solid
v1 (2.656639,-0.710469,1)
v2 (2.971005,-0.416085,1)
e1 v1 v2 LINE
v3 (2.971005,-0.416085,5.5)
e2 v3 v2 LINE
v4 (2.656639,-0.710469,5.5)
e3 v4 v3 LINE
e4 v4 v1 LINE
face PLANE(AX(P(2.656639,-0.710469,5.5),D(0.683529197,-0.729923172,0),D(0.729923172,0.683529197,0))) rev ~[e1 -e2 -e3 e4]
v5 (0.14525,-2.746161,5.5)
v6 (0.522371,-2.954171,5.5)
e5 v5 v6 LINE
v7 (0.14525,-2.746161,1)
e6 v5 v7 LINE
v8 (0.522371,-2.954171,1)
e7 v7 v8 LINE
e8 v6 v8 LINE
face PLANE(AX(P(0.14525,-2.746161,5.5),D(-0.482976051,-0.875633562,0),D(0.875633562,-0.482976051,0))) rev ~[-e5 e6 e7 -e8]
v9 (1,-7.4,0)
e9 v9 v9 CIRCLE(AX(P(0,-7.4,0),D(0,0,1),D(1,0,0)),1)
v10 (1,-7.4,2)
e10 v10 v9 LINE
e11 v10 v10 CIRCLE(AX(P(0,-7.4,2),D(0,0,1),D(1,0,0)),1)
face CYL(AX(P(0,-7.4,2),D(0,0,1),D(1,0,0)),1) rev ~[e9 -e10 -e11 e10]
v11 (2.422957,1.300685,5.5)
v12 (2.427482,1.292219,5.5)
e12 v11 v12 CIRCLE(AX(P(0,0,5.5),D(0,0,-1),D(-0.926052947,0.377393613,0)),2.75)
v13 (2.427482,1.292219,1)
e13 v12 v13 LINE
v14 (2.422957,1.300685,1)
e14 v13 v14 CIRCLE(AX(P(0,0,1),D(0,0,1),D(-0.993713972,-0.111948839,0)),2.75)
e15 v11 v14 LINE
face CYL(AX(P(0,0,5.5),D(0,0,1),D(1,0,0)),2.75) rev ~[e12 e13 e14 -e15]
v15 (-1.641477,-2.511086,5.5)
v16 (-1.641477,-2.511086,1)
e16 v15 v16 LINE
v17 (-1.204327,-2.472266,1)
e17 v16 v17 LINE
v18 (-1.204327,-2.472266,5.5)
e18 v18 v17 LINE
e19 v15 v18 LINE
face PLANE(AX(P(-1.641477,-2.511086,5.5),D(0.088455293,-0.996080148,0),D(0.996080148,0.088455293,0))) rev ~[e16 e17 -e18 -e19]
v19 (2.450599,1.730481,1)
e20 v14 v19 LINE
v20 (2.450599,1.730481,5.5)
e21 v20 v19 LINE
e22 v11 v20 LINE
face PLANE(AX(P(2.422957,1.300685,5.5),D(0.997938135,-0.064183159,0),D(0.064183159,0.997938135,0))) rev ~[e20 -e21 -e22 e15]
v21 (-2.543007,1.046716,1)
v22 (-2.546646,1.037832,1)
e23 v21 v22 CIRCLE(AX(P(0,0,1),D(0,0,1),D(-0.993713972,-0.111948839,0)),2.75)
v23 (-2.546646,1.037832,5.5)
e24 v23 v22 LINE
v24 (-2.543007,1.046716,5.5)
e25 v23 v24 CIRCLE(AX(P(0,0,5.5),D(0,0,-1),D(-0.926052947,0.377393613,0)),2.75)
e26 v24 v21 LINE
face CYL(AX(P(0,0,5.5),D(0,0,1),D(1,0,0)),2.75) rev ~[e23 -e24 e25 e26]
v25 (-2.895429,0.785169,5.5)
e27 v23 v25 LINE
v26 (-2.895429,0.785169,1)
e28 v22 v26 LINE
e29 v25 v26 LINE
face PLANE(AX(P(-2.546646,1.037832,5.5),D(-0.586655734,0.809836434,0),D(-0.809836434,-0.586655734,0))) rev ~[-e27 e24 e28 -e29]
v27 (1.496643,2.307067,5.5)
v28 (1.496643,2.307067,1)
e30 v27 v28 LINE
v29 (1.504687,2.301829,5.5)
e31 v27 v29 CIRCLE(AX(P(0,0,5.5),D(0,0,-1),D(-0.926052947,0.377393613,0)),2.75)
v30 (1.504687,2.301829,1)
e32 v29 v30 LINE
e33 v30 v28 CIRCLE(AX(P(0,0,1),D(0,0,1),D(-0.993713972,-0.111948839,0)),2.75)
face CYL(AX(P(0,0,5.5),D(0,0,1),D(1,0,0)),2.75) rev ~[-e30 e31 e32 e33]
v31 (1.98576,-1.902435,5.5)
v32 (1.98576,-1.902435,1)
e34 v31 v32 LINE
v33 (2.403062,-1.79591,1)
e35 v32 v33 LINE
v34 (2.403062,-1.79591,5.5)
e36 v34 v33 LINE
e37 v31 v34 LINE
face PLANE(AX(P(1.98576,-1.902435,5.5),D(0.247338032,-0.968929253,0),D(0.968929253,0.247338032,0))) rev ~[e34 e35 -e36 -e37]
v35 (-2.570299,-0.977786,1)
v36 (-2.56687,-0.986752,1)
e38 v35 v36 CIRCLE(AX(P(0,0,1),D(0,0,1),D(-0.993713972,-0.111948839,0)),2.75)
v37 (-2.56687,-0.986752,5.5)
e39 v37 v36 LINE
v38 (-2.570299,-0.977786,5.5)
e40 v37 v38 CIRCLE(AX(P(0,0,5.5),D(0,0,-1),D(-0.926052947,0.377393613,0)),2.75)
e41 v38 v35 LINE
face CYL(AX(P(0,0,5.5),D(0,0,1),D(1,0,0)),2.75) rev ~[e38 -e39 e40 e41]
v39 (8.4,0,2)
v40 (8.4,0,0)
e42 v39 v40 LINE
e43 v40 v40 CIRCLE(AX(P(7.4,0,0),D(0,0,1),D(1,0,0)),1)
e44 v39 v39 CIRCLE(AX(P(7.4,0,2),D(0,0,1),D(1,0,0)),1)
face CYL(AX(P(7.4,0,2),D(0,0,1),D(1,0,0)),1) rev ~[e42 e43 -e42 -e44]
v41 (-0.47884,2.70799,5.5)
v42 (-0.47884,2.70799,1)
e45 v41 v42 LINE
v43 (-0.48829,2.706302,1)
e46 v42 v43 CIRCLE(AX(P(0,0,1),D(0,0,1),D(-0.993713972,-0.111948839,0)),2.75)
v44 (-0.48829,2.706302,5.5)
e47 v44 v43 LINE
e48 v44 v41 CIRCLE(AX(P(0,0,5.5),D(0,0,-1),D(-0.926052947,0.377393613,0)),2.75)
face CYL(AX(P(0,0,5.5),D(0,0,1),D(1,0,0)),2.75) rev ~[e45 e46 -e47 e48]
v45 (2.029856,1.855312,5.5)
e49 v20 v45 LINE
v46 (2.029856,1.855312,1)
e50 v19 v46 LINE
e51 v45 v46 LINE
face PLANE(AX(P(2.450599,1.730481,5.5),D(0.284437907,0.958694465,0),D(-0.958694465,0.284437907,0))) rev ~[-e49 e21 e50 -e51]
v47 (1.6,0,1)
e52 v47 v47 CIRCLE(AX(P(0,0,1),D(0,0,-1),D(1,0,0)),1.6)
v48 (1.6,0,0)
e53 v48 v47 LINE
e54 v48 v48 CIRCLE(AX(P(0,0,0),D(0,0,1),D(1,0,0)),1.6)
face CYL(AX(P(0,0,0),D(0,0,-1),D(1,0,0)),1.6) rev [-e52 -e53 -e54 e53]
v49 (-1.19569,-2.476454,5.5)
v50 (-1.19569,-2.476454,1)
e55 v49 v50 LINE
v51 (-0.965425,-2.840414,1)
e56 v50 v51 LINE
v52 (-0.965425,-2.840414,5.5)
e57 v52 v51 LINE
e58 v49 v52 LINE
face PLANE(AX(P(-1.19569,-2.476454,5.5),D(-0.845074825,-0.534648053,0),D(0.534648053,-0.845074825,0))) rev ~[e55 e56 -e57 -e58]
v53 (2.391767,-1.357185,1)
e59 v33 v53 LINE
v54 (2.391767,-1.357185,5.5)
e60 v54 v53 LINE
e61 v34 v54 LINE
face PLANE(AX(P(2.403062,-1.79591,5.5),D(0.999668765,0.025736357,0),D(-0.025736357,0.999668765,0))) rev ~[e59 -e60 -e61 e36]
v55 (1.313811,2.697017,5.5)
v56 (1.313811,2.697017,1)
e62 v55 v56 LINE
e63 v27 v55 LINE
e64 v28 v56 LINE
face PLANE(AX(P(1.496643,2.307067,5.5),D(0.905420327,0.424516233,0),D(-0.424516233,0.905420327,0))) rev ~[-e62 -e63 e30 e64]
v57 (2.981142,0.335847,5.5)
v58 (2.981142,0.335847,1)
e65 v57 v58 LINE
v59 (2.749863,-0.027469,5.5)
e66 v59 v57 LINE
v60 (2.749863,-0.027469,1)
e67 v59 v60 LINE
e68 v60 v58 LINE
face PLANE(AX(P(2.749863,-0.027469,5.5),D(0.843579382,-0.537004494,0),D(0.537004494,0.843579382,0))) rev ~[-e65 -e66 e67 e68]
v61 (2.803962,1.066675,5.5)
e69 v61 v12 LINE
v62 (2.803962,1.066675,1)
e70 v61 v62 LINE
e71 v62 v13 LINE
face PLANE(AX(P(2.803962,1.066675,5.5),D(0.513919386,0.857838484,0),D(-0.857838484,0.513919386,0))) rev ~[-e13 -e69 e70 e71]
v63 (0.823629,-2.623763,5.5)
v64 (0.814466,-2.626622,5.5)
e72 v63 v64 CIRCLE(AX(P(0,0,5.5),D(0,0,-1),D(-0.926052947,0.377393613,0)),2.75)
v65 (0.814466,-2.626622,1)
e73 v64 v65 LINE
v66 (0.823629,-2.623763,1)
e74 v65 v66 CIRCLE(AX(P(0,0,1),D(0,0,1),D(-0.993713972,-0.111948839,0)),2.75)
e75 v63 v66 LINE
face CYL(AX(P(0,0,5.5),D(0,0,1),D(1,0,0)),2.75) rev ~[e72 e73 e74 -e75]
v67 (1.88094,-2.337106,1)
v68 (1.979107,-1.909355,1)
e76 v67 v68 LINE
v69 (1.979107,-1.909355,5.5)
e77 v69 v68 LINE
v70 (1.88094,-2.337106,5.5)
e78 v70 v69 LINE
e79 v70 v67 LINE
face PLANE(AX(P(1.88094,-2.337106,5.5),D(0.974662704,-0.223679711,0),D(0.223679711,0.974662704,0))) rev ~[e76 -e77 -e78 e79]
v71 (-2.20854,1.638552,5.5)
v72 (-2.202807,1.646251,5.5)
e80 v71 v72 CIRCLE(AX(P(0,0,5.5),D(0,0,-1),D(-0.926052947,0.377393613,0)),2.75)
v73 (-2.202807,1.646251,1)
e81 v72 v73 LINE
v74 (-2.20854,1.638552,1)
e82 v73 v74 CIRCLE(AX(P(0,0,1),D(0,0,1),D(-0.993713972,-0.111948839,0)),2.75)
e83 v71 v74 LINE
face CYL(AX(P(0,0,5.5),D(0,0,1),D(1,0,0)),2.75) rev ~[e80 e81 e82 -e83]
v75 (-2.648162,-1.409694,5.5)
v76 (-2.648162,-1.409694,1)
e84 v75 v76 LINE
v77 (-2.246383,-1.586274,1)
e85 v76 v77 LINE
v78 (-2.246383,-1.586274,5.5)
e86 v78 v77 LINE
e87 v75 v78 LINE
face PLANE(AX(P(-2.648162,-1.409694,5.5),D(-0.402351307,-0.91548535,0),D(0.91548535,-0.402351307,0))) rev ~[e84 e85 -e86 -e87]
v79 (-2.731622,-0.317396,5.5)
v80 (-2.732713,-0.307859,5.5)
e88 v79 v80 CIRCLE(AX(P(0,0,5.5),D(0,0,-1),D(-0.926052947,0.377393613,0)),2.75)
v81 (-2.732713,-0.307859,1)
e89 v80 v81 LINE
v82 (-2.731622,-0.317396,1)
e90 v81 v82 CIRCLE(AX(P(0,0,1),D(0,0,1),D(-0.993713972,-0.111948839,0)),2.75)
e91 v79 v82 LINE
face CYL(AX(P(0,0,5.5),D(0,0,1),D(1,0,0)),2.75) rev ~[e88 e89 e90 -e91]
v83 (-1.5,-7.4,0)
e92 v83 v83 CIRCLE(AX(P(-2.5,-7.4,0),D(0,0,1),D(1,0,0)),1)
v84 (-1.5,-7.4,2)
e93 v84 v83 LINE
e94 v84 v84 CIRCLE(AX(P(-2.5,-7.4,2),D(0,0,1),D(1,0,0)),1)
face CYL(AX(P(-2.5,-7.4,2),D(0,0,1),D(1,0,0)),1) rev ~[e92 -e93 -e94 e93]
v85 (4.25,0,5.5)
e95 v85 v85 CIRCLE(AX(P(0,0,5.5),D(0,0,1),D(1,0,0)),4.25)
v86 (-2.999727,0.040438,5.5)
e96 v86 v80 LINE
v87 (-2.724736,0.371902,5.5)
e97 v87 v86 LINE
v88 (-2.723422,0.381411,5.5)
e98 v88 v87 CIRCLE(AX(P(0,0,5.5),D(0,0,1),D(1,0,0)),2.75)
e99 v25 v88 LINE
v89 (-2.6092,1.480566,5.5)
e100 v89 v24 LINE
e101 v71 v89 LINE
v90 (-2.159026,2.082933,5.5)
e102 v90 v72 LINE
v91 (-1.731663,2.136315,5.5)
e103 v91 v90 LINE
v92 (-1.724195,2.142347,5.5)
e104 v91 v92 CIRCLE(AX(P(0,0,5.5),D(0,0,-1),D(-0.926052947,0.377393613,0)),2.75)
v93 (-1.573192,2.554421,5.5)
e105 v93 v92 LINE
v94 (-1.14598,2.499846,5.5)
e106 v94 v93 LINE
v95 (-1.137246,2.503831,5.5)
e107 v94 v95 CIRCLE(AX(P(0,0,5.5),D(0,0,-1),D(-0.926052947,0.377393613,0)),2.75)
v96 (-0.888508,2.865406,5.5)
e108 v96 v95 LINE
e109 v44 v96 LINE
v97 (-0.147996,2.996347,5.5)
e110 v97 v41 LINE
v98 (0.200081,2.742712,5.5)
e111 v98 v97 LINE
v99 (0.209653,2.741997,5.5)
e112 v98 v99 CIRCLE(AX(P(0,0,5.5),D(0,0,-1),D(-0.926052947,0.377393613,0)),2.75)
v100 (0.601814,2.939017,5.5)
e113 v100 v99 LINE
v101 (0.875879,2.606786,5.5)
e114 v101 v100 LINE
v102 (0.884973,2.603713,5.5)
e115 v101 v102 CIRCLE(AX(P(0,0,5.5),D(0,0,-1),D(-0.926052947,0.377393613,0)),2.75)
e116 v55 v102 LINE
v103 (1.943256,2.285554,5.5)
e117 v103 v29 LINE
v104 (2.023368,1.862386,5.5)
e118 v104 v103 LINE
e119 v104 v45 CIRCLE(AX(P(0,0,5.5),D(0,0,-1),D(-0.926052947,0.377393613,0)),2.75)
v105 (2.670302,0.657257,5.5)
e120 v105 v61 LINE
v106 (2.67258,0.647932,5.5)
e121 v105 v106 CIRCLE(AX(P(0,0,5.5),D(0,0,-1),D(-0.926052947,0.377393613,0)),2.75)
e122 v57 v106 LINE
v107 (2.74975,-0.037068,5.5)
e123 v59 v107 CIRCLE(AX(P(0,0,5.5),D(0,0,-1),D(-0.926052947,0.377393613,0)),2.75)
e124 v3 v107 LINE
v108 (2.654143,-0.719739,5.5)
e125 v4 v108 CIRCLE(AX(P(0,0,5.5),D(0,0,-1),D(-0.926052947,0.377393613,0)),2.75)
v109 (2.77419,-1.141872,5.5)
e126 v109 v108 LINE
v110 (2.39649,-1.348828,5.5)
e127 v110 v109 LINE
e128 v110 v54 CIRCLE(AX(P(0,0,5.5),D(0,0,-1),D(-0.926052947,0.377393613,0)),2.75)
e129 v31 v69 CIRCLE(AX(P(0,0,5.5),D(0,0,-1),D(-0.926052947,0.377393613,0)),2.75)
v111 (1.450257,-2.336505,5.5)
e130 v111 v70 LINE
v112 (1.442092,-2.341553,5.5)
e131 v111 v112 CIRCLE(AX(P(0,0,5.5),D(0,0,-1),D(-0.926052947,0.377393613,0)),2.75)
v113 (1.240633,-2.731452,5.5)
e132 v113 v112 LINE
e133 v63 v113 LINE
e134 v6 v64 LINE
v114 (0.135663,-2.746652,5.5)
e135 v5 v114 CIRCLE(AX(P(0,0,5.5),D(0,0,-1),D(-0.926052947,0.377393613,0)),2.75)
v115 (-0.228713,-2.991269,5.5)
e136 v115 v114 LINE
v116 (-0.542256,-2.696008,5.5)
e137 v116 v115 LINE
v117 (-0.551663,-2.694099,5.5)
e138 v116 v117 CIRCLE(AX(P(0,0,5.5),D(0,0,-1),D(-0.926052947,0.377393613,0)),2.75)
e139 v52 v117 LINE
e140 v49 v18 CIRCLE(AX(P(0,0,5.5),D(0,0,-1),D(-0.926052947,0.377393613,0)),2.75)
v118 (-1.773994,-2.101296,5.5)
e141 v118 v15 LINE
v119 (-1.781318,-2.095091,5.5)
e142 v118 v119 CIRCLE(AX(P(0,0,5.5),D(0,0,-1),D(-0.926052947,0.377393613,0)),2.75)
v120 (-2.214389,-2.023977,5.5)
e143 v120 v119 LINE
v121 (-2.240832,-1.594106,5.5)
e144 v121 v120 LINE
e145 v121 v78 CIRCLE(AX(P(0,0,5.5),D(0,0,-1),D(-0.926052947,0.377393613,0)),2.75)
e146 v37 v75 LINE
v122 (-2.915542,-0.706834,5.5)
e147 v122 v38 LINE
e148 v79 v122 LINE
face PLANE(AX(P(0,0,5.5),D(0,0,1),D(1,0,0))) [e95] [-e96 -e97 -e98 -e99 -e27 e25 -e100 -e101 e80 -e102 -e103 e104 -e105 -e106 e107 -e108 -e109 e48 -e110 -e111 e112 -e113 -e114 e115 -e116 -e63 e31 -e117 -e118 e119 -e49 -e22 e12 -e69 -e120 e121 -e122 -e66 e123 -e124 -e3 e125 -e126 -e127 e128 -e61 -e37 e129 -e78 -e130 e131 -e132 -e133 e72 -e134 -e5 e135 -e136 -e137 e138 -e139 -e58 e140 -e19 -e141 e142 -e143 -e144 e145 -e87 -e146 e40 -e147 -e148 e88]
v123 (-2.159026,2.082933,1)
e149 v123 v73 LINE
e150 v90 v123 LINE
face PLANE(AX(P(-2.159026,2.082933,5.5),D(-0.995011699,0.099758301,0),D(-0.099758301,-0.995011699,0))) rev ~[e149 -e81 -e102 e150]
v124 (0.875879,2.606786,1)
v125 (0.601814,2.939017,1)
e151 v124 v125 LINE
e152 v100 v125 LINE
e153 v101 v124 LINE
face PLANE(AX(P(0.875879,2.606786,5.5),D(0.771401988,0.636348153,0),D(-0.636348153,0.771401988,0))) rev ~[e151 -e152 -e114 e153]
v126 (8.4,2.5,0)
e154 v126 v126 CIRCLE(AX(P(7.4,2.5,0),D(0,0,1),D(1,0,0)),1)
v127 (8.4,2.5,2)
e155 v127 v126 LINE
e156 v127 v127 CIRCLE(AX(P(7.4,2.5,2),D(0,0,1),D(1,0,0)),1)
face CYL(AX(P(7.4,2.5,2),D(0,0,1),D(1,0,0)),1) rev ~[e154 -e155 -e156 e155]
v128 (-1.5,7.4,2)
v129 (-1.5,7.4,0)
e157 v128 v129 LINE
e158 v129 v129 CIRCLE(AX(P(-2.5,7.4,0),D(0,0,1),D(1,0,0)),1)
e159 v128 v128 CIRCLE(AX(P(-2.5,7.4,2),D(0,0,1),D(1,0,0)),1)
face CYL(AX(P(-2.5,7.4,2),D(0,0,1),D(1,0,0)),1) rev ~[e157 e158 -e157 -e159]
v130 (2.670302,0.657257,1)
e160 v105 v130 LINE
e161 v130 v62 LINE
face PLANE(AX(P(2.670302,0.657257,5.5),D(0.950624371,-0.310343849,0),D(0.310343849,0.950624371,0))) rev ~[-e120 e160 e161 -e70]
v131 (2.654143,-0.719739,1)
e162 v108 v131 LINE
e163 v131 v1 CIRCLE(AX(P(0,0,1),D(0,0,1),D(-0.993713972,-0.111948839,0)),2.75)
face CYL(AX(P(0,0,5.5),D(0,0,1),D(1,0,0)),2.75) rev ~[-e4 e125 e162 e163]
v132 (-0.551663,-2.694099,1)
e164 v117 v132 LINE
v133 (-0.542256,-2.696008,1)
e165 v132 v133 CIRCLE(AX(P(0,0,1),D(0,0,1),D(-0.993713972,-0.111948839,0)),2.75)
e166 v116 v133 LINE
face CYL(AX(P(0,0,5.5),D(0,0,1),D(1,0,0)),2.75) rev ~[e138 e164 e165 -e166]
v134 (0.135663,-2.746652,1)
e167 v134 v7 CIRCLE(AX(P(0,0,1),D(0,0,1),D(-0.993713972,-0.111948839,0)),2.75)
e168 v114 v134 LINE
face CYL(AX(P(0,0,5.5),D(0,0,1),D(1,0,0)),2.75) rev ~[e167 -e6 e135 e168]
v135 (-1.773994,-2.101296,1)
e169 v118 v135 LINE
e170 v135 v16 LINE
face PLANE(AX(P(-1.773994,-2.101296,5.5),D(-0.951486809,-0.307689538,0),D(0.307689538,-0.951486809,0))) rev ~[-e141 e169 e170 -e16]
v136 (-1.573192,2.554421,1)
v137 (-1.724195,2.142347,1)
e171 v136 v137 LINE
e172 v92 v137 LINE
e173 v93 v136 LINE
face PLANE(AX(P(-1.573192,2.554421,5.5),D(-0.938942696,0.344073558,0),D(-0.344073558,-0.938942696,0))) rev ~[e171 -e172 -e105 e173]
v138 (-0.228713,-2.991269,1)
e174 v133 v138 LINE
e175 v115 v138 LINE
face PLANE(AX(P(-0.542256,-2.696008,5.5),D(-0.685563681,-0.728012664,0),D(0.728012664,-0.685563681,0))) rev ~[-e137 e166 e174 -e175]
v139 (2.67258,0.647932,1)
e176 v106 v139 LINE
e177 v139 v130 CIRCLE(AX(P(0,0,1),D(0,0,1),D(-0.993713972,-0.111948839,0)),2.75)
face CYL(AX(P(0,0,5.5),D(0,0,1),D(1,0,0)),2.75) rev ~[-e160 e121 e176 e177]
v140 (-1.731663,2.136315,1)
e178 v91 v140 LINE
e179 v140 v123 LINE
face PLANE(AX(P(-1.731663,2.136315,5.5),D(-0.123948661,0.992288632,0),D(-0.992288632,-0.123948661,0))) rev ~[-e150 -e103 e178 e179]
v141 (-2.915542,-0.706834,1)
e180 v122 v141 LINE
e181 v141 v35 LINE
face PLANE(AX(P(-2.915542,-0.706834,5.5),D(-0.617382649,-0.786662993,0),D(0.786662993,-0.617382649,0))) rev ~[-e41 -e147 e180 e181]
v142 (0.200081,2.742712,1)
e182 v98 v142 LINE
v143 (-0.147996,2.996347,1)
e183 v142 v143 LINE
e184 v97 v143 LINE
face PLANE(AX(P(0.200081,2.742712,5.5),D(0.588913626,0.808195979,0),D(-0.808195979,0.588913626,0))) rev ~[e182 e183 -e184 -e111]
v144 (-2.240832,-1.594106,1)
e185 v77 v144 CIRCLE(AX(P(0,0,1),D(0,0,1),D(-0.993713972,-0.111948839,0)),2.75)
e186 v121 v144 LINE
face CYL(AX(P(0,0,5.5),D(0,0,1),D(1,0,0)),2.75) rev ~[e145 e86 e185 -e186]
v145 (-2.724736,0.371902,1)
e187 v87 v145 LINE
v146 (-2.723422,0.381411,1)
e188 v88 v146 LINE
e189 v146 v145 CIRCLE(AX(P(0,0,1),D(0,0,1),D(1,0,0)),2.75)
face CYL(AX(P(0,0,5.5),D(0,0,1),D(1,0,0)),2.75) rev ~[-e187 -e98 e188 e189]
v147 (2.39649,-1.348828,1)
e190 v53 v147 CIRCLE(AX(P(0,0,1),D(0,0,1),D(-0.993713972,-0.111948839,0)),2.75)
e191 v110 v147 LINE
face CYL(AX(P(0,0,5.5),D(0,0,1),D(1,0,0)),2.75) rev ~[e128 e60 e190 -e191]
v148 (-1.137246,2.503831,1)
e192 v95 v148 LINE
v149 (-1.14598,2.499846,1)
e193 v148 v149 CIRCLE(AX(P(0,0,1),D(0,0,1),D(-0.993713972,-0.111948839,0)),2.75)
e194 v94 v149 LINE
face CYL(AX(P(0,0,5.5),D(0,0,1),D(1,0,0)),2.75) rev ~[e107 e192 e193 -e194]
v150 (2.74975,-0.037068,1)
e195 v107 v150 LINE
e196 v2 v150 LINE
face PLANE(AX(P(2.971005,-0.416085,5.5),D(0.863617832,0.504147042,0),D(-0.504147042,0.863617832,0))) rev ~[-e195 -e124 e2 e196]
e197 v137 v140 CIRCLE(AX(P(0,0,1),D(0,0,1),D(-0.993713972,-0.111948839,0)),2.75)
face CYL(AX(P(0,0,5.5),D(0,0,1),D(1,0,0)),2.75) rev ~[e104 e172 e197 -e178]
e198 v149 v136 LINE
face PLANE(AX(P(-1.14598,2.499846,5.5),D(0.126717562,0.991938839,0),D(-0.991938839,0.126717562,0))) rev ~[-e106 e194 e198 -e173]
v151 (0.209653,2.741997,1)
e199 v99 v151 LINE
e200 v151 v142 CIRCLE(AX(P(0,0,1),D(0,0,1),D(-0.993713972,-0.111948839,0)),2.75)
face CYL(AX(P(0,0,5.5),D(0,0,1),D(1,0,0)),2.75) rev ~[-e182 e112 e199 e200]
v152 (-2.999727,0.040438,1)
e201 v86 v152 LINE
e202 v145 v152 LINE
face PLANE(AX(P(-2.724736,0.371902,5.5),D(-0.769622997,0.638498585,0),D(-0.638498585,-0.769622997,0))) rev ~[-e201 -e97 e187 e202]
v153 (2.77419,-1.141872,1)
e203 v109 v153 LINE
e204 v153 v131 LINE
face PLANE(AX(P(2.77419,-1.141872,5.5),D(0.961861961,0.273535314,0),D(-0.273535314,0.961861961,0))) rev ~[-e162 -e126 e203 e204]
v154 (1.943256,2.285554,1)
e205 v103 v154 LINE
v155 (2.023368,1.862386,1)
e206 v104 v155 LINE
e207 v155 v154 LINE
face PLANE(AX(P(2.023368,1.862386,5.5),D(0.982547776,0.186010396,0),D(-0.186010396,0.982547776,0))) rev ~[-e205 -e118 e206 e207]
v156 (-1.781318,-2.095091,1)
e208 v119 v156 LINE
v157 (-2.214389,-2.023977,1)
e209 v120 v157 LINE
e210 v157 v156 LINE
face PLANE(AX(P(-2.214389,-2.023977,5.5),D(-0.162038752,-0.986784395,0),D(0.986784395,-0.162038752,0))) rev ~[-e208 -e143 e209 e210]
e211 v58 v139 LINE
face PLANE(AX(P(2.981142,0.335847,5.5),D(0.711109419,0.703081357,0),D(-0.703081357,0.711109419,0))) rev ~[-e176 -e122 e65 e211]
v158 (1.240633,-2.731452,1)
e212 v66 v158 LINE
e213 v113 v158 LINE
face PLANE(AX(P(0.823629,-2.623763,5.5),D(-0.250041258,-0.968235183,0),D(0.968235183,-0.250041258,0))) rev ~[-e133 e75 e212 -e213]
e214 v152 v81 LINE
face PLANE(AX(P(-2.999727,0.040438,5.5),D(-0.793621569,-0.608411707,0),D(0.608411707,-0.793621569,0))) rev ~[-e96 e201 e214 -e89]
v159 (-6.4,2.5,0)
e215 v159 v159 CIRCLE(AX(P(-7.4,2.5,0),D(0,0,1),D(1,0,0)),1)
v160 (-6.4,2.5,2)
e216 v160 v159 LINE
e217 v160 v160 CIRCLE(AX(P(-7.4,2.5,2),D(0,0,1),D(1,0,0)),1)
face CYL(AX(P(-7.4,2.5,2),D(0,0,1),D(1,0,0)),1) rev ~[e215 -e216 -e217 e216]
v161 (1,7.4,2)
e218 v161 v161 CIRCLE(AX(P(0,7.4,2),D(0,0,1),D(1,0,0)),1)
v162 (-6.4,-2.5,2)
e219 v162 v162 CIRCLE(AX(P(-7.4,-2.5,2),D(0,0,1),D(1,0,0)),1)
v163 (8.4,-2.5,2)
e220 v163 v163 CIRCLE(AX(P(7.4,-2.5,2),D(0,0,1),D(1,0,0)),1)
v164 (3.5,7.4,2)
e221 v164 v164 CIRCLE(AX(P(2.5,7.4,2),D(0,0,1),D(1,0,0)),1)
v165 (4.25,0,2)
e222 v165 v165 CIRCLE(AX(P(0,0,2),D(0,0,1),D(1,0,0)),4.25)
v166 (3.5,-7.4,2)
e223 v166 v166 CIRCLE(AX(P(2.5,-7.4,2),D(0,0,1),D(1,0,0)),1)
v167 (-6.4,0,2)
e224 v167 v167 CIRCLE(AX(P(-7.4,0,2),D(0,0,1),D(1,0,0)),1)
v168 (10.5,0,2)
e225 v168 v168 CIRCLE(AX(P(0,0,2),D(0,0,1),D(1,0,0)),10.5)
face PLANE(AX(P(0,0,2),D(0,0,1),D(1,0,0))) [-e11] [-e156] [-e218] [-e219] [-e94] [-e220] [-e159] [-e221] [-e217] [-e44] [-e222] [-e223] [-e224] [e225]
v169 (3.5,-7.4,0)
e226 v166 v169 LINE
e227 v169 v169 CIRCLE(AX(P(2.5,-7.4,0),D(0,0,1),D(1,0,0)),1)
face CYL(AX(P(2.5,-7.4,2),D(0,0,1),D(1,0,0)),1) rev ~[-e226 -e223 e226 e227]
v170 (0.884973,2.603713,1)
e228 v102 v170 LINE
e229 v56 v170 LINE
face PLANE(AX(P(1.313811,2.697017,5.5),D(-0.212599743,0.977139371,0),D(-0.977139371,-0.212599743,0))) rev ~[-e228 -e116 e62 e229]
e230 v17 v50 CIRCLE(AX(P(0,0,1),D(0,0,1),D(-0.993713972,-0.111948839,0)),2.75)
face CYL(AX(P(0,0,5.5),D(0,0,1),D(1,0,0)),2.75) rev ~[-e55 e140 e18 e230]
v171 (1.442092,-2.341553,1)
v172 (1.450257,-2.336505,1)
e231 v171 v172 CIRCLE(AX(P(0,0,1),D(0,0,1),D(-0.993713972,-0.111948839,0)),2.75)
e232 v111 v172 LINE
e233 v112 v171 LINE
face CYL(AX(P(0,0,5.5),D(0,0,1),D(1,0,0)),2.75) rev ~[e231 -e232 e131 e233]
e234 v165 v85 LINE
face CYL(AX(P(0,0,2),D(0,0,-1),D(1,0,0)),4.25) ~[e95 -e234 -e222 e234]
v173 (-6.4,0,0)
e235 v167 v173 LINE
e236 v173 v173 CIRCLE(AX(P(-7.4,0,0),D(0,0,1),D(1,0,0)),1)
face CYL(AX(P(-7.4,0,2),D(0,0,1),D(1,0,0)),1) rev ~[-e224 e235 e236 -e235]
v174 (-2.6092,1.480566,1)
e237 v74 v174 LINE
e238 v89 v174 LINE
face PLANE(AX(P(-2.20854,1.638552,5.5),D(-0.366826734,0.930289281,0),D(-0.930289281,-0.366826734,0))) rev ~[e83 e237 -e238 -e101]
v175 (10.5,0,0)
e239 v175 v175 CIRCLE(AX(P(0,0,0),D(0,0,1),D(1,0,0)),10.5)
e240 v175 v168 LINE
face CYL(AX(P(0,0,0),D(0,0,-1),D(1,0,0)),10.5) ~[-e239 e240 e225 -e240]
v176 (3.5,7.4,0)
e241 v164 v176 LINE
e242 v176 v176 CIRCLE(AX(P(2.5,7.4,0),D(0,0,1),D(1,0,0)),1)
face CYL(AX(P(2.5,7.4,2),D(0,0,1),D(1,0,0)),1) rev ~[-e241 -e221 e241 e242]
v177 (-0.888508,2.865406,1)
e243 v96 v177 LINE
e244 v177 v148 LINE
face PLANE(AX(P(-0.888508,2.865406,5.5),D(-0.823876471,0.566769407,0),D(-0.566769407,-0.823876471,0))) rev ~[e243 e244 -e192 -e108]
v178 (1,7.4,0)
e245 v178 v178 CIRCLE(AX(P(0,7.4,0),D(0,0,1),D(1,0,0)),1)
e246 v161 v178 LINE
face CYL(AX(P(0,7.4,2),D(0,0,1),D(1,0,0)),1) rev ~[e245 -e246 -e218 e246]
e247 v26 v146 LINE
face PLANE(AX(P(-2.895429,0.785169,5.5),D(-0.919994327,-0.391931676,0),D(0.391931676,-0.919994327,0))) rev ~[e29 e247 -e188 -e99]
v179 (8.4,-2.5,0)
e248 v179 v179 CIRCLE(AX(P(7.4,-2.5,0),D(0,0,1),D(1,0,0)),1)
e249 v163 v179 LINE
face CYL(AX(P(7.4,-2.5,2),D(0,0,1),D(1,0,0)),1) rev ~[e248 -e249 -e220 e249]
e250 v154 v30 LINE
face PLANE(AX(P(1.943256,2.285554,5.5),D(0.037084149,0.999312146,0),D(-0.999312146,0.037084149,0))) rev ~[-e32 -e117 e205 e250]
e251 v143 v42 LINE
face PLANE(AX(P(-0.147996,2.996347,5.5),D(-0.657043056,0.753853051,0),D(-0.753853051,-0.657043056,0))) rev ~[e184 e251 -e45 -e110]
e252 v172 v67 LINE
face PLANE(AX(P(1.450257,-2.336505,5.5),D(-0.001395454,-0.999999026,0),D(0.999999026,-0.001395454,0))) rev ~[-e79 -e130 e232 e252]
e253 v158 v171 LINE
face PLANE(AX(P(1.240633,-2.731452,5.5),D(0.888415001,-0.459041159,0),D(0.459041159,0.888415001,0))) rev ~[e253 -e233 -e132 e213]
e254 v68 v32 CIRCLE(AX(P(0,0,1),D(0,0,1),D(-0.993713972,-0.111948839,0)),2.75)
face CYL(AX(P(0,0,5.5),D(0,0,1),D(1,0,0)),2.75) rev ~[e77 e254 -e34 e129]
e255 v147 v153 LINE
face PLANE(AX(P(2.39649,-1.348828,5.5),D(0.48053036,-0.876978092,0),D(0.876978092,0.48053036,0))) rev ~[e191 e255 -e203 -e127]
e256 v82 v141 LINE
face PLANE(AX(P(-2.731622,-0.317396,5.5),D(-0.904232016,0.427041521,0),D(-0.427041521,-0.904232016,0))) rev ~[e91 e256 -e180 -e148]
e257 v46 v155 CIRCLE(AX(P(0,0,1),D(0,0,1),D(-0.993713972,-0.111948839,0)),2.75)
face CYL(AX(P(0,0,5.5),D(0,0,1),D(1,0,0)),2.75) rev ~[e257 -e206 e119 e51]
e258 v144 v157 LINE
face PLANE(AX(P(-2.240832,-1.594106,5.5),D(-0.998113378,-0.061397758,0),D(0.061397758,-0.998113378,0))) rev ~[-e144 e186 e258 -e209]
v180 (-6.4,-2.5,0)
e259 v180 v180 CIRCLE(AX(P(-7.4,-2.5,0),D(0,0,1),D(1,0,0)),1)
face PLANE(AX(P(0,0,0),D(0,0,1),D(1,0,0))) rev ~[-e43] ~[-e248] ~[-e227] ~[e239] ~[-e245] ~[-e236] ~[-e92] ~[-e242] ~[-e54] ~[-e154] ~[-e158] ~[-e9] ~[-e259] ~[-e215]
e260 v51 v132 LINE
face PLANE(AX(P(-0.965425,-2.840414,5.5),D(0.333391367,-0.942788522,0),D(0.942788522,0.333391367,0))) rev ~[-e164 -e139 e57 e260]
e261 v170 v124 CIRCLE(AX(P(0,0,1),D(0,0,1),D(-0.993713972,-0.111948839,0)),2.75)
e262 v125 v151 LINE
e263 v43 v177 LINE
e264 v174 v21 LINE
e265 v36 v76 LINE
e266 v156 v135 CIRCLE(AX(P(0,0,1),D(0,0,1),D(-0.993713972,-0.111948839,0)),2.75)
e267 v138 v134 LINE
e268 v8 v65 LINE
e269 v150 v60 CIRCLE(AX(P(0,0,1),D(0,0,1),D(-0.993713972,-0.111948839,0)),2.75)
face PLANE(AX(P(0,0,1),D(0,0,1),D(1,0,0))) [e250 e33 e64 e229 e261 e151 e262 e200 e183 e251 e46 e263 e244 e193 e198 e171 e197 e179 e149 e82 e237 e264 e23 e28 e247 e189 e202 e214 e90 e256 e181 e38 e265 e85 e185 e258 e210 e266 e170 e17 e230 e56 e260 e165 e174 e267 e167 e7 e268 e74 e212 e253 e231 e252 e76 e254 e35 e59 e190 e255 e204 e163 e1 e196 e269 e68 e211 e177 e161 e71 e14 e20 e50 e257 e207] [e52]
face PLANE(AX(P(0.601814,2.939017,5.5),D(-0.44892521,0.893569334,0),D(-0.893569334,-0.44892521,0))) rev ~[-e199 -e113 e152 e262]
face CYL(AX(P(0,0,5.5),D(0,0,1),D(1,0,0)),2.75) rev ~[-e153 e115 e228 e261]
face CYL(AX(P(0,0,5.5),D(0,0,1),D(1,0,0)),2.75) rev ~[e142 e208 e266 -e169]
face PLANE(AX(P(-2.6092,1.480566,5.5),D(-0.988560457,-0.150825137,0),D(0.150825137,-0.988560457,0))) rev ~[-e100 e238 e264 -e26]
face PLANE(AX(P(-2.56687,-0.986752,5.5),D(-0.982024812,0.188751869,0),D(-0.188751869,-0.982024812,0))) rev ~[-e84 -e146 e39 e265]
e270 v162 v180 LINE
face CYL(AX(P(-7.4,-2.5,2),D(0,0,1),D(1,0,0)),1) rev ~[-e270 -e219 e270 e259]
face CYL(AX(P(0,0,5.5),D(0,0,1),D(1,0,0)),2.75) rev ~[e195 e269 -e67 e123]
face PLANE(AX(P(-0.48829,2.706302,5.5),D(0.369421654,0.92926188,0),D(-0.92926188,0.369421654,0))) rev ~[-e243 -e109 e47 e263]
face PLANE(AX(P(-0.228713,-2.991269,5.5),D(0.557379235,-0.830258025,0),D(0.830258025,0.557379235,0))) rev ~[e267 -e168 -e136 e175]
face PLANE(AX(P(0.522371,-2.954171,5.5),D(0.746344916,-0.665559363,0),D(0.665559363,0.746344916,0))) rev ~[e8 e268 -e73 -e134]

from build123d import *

# Parameters (mm, degrees)
SKETCH1_R           = 10.5
BOSS_EXTRUDE1_DEPTH = 2
SKETCH2_R           = 4.25
BOSS_EXTRUDE2_DEPTH = 3.5
SKETCH3_R           = 2.75
CUT_EXTRUDE1_DEPTH  = 4.5
SKETCH4_R           = 1.6
CUT_EXTRUDE2_DEPTH  = 3.5
SKETCH5_R           = 1
CUT_EXTRUDE3_DEPTH  = 3.5
CUT_EXTRUDE4_DEPTH  = 4.5
CIRPATTERN1_COUNT   = 25


with BuildPart() as part:
    # Sketch1 → Boss-Extrude1 (new body)
    with BuildSketch(Plane.XY):
        Circle(SKETCH1_R)
    extrude(amount=BOSS_EXTRUDE1_DEPTH)

    # Sketch2 → Boss-Extrude2 (add)
    with BuildSketch(Plane.XY.offset(2)):
        Circle(SKETCH2_R)
    extrude(amount=BOSS_EXTRUDE2_DEPTH)

    # Sketch3 → Cut-Extrude1 (cut)
    with BuildSketch(Plane.XY.offset(5.5)):
        Circle(SKETCH3_R)
    extrude(amount=-CUT_EXTRUDE1_DEPTH, mode=Mode.SUBTRACT)

    # Sketch4 → Cut-Extrude2 (cut)
    with BuildSketch(Plane.XY):
        Circle(SKETCH4_R)
    extrude(amount=CUT_EXTRUDE2_DEPTH, mode=Mode.SUBTRACT)

    # Sketch5 → Cut-Extrude3 (cut)
    with BuildSketch(Plane.XY.offset(2)):
        with Locations((0, 7.4)):
            Circle(SKETCH5_R)
        with Locations((-2.5, 7.4)):
            Circle(SKETCH5_R)
        with Locations((2.5, 7.4)):
            Circle(SKETCH5_R)
        with Locations((2.5, -7.4)):
            Circle(SKETCH5_R)
        with Locations((-2.5, -7.4)):
            Circle(SKETCH5_R)
        with Locations((0, -7.4)):
            Circle(SKETCH5_R)
        with Locations((7.4, 0)):
            Circle(SKETCH5_R)
        with Locations((7.4, 2.5)):
            Circle(SKETCH5_R)
        with Locations((7.4, -2.5)):
            Circle(SKETCH5_R)
        with Locations((-7.4, -2.5)):
            Circle(SKETCH5_R)
        with Locations((-7.4, 2.5)):
            Circle(SKETCH5_R)
        with Locations((-7.4, 0)):
            Circle(SKETCH5_R)
    extrude(amount=-CUT_EXTRUDE3_DEPTH, mode=Mode.SUBTRACT)

    # Sketch6 → Cut-Extrude4 (cut)
    with BuildSketch(Plane.XY.offset(5.5)):
        with BuildLine():
            Line((-2.895429002, 0.78516934), (-2.654143252, 0.719738562))
            ThreePointArc((-2.654143252, 0.719738562), (-2.605253752, 0.880427673), (-2.546645605, 1.037832435))
            Line((-2.546645605, 1.037832435), (-2.895429002, 0.78516934))
        make_face()
        with BuildLine():
            Line((-2.895429002, 0.78516934), (-2.723421701, 0.381410852))
            ThreePointArc((-2.723421701, 0.381410852), (-2.694098665, 0.551663288), (-2.654143252, 0.719738562))
            Line((-2.654143252, 0.719738562), (-2.895429002, 0.78516934))
        make_face()
    cut_extrude4 = extrude(amount=-CUT_EXTRUDE4_DEPTH, mode=Mode.SUBTRACT)

    # CirPattern1: Cut-Extrude4 ×25 about axis
    cirpattern1_axis = Axis((0, 0, 0), (0, 0, 1))
    for i in range(1, CIRPATTERN1_COUNT):
        add(cut_extrude4.rotate(cirpattern1_axis, i * 360 / CIRPATTERN1_COUNT), mode=Mode.SUBTRACT)


solid = part.part
